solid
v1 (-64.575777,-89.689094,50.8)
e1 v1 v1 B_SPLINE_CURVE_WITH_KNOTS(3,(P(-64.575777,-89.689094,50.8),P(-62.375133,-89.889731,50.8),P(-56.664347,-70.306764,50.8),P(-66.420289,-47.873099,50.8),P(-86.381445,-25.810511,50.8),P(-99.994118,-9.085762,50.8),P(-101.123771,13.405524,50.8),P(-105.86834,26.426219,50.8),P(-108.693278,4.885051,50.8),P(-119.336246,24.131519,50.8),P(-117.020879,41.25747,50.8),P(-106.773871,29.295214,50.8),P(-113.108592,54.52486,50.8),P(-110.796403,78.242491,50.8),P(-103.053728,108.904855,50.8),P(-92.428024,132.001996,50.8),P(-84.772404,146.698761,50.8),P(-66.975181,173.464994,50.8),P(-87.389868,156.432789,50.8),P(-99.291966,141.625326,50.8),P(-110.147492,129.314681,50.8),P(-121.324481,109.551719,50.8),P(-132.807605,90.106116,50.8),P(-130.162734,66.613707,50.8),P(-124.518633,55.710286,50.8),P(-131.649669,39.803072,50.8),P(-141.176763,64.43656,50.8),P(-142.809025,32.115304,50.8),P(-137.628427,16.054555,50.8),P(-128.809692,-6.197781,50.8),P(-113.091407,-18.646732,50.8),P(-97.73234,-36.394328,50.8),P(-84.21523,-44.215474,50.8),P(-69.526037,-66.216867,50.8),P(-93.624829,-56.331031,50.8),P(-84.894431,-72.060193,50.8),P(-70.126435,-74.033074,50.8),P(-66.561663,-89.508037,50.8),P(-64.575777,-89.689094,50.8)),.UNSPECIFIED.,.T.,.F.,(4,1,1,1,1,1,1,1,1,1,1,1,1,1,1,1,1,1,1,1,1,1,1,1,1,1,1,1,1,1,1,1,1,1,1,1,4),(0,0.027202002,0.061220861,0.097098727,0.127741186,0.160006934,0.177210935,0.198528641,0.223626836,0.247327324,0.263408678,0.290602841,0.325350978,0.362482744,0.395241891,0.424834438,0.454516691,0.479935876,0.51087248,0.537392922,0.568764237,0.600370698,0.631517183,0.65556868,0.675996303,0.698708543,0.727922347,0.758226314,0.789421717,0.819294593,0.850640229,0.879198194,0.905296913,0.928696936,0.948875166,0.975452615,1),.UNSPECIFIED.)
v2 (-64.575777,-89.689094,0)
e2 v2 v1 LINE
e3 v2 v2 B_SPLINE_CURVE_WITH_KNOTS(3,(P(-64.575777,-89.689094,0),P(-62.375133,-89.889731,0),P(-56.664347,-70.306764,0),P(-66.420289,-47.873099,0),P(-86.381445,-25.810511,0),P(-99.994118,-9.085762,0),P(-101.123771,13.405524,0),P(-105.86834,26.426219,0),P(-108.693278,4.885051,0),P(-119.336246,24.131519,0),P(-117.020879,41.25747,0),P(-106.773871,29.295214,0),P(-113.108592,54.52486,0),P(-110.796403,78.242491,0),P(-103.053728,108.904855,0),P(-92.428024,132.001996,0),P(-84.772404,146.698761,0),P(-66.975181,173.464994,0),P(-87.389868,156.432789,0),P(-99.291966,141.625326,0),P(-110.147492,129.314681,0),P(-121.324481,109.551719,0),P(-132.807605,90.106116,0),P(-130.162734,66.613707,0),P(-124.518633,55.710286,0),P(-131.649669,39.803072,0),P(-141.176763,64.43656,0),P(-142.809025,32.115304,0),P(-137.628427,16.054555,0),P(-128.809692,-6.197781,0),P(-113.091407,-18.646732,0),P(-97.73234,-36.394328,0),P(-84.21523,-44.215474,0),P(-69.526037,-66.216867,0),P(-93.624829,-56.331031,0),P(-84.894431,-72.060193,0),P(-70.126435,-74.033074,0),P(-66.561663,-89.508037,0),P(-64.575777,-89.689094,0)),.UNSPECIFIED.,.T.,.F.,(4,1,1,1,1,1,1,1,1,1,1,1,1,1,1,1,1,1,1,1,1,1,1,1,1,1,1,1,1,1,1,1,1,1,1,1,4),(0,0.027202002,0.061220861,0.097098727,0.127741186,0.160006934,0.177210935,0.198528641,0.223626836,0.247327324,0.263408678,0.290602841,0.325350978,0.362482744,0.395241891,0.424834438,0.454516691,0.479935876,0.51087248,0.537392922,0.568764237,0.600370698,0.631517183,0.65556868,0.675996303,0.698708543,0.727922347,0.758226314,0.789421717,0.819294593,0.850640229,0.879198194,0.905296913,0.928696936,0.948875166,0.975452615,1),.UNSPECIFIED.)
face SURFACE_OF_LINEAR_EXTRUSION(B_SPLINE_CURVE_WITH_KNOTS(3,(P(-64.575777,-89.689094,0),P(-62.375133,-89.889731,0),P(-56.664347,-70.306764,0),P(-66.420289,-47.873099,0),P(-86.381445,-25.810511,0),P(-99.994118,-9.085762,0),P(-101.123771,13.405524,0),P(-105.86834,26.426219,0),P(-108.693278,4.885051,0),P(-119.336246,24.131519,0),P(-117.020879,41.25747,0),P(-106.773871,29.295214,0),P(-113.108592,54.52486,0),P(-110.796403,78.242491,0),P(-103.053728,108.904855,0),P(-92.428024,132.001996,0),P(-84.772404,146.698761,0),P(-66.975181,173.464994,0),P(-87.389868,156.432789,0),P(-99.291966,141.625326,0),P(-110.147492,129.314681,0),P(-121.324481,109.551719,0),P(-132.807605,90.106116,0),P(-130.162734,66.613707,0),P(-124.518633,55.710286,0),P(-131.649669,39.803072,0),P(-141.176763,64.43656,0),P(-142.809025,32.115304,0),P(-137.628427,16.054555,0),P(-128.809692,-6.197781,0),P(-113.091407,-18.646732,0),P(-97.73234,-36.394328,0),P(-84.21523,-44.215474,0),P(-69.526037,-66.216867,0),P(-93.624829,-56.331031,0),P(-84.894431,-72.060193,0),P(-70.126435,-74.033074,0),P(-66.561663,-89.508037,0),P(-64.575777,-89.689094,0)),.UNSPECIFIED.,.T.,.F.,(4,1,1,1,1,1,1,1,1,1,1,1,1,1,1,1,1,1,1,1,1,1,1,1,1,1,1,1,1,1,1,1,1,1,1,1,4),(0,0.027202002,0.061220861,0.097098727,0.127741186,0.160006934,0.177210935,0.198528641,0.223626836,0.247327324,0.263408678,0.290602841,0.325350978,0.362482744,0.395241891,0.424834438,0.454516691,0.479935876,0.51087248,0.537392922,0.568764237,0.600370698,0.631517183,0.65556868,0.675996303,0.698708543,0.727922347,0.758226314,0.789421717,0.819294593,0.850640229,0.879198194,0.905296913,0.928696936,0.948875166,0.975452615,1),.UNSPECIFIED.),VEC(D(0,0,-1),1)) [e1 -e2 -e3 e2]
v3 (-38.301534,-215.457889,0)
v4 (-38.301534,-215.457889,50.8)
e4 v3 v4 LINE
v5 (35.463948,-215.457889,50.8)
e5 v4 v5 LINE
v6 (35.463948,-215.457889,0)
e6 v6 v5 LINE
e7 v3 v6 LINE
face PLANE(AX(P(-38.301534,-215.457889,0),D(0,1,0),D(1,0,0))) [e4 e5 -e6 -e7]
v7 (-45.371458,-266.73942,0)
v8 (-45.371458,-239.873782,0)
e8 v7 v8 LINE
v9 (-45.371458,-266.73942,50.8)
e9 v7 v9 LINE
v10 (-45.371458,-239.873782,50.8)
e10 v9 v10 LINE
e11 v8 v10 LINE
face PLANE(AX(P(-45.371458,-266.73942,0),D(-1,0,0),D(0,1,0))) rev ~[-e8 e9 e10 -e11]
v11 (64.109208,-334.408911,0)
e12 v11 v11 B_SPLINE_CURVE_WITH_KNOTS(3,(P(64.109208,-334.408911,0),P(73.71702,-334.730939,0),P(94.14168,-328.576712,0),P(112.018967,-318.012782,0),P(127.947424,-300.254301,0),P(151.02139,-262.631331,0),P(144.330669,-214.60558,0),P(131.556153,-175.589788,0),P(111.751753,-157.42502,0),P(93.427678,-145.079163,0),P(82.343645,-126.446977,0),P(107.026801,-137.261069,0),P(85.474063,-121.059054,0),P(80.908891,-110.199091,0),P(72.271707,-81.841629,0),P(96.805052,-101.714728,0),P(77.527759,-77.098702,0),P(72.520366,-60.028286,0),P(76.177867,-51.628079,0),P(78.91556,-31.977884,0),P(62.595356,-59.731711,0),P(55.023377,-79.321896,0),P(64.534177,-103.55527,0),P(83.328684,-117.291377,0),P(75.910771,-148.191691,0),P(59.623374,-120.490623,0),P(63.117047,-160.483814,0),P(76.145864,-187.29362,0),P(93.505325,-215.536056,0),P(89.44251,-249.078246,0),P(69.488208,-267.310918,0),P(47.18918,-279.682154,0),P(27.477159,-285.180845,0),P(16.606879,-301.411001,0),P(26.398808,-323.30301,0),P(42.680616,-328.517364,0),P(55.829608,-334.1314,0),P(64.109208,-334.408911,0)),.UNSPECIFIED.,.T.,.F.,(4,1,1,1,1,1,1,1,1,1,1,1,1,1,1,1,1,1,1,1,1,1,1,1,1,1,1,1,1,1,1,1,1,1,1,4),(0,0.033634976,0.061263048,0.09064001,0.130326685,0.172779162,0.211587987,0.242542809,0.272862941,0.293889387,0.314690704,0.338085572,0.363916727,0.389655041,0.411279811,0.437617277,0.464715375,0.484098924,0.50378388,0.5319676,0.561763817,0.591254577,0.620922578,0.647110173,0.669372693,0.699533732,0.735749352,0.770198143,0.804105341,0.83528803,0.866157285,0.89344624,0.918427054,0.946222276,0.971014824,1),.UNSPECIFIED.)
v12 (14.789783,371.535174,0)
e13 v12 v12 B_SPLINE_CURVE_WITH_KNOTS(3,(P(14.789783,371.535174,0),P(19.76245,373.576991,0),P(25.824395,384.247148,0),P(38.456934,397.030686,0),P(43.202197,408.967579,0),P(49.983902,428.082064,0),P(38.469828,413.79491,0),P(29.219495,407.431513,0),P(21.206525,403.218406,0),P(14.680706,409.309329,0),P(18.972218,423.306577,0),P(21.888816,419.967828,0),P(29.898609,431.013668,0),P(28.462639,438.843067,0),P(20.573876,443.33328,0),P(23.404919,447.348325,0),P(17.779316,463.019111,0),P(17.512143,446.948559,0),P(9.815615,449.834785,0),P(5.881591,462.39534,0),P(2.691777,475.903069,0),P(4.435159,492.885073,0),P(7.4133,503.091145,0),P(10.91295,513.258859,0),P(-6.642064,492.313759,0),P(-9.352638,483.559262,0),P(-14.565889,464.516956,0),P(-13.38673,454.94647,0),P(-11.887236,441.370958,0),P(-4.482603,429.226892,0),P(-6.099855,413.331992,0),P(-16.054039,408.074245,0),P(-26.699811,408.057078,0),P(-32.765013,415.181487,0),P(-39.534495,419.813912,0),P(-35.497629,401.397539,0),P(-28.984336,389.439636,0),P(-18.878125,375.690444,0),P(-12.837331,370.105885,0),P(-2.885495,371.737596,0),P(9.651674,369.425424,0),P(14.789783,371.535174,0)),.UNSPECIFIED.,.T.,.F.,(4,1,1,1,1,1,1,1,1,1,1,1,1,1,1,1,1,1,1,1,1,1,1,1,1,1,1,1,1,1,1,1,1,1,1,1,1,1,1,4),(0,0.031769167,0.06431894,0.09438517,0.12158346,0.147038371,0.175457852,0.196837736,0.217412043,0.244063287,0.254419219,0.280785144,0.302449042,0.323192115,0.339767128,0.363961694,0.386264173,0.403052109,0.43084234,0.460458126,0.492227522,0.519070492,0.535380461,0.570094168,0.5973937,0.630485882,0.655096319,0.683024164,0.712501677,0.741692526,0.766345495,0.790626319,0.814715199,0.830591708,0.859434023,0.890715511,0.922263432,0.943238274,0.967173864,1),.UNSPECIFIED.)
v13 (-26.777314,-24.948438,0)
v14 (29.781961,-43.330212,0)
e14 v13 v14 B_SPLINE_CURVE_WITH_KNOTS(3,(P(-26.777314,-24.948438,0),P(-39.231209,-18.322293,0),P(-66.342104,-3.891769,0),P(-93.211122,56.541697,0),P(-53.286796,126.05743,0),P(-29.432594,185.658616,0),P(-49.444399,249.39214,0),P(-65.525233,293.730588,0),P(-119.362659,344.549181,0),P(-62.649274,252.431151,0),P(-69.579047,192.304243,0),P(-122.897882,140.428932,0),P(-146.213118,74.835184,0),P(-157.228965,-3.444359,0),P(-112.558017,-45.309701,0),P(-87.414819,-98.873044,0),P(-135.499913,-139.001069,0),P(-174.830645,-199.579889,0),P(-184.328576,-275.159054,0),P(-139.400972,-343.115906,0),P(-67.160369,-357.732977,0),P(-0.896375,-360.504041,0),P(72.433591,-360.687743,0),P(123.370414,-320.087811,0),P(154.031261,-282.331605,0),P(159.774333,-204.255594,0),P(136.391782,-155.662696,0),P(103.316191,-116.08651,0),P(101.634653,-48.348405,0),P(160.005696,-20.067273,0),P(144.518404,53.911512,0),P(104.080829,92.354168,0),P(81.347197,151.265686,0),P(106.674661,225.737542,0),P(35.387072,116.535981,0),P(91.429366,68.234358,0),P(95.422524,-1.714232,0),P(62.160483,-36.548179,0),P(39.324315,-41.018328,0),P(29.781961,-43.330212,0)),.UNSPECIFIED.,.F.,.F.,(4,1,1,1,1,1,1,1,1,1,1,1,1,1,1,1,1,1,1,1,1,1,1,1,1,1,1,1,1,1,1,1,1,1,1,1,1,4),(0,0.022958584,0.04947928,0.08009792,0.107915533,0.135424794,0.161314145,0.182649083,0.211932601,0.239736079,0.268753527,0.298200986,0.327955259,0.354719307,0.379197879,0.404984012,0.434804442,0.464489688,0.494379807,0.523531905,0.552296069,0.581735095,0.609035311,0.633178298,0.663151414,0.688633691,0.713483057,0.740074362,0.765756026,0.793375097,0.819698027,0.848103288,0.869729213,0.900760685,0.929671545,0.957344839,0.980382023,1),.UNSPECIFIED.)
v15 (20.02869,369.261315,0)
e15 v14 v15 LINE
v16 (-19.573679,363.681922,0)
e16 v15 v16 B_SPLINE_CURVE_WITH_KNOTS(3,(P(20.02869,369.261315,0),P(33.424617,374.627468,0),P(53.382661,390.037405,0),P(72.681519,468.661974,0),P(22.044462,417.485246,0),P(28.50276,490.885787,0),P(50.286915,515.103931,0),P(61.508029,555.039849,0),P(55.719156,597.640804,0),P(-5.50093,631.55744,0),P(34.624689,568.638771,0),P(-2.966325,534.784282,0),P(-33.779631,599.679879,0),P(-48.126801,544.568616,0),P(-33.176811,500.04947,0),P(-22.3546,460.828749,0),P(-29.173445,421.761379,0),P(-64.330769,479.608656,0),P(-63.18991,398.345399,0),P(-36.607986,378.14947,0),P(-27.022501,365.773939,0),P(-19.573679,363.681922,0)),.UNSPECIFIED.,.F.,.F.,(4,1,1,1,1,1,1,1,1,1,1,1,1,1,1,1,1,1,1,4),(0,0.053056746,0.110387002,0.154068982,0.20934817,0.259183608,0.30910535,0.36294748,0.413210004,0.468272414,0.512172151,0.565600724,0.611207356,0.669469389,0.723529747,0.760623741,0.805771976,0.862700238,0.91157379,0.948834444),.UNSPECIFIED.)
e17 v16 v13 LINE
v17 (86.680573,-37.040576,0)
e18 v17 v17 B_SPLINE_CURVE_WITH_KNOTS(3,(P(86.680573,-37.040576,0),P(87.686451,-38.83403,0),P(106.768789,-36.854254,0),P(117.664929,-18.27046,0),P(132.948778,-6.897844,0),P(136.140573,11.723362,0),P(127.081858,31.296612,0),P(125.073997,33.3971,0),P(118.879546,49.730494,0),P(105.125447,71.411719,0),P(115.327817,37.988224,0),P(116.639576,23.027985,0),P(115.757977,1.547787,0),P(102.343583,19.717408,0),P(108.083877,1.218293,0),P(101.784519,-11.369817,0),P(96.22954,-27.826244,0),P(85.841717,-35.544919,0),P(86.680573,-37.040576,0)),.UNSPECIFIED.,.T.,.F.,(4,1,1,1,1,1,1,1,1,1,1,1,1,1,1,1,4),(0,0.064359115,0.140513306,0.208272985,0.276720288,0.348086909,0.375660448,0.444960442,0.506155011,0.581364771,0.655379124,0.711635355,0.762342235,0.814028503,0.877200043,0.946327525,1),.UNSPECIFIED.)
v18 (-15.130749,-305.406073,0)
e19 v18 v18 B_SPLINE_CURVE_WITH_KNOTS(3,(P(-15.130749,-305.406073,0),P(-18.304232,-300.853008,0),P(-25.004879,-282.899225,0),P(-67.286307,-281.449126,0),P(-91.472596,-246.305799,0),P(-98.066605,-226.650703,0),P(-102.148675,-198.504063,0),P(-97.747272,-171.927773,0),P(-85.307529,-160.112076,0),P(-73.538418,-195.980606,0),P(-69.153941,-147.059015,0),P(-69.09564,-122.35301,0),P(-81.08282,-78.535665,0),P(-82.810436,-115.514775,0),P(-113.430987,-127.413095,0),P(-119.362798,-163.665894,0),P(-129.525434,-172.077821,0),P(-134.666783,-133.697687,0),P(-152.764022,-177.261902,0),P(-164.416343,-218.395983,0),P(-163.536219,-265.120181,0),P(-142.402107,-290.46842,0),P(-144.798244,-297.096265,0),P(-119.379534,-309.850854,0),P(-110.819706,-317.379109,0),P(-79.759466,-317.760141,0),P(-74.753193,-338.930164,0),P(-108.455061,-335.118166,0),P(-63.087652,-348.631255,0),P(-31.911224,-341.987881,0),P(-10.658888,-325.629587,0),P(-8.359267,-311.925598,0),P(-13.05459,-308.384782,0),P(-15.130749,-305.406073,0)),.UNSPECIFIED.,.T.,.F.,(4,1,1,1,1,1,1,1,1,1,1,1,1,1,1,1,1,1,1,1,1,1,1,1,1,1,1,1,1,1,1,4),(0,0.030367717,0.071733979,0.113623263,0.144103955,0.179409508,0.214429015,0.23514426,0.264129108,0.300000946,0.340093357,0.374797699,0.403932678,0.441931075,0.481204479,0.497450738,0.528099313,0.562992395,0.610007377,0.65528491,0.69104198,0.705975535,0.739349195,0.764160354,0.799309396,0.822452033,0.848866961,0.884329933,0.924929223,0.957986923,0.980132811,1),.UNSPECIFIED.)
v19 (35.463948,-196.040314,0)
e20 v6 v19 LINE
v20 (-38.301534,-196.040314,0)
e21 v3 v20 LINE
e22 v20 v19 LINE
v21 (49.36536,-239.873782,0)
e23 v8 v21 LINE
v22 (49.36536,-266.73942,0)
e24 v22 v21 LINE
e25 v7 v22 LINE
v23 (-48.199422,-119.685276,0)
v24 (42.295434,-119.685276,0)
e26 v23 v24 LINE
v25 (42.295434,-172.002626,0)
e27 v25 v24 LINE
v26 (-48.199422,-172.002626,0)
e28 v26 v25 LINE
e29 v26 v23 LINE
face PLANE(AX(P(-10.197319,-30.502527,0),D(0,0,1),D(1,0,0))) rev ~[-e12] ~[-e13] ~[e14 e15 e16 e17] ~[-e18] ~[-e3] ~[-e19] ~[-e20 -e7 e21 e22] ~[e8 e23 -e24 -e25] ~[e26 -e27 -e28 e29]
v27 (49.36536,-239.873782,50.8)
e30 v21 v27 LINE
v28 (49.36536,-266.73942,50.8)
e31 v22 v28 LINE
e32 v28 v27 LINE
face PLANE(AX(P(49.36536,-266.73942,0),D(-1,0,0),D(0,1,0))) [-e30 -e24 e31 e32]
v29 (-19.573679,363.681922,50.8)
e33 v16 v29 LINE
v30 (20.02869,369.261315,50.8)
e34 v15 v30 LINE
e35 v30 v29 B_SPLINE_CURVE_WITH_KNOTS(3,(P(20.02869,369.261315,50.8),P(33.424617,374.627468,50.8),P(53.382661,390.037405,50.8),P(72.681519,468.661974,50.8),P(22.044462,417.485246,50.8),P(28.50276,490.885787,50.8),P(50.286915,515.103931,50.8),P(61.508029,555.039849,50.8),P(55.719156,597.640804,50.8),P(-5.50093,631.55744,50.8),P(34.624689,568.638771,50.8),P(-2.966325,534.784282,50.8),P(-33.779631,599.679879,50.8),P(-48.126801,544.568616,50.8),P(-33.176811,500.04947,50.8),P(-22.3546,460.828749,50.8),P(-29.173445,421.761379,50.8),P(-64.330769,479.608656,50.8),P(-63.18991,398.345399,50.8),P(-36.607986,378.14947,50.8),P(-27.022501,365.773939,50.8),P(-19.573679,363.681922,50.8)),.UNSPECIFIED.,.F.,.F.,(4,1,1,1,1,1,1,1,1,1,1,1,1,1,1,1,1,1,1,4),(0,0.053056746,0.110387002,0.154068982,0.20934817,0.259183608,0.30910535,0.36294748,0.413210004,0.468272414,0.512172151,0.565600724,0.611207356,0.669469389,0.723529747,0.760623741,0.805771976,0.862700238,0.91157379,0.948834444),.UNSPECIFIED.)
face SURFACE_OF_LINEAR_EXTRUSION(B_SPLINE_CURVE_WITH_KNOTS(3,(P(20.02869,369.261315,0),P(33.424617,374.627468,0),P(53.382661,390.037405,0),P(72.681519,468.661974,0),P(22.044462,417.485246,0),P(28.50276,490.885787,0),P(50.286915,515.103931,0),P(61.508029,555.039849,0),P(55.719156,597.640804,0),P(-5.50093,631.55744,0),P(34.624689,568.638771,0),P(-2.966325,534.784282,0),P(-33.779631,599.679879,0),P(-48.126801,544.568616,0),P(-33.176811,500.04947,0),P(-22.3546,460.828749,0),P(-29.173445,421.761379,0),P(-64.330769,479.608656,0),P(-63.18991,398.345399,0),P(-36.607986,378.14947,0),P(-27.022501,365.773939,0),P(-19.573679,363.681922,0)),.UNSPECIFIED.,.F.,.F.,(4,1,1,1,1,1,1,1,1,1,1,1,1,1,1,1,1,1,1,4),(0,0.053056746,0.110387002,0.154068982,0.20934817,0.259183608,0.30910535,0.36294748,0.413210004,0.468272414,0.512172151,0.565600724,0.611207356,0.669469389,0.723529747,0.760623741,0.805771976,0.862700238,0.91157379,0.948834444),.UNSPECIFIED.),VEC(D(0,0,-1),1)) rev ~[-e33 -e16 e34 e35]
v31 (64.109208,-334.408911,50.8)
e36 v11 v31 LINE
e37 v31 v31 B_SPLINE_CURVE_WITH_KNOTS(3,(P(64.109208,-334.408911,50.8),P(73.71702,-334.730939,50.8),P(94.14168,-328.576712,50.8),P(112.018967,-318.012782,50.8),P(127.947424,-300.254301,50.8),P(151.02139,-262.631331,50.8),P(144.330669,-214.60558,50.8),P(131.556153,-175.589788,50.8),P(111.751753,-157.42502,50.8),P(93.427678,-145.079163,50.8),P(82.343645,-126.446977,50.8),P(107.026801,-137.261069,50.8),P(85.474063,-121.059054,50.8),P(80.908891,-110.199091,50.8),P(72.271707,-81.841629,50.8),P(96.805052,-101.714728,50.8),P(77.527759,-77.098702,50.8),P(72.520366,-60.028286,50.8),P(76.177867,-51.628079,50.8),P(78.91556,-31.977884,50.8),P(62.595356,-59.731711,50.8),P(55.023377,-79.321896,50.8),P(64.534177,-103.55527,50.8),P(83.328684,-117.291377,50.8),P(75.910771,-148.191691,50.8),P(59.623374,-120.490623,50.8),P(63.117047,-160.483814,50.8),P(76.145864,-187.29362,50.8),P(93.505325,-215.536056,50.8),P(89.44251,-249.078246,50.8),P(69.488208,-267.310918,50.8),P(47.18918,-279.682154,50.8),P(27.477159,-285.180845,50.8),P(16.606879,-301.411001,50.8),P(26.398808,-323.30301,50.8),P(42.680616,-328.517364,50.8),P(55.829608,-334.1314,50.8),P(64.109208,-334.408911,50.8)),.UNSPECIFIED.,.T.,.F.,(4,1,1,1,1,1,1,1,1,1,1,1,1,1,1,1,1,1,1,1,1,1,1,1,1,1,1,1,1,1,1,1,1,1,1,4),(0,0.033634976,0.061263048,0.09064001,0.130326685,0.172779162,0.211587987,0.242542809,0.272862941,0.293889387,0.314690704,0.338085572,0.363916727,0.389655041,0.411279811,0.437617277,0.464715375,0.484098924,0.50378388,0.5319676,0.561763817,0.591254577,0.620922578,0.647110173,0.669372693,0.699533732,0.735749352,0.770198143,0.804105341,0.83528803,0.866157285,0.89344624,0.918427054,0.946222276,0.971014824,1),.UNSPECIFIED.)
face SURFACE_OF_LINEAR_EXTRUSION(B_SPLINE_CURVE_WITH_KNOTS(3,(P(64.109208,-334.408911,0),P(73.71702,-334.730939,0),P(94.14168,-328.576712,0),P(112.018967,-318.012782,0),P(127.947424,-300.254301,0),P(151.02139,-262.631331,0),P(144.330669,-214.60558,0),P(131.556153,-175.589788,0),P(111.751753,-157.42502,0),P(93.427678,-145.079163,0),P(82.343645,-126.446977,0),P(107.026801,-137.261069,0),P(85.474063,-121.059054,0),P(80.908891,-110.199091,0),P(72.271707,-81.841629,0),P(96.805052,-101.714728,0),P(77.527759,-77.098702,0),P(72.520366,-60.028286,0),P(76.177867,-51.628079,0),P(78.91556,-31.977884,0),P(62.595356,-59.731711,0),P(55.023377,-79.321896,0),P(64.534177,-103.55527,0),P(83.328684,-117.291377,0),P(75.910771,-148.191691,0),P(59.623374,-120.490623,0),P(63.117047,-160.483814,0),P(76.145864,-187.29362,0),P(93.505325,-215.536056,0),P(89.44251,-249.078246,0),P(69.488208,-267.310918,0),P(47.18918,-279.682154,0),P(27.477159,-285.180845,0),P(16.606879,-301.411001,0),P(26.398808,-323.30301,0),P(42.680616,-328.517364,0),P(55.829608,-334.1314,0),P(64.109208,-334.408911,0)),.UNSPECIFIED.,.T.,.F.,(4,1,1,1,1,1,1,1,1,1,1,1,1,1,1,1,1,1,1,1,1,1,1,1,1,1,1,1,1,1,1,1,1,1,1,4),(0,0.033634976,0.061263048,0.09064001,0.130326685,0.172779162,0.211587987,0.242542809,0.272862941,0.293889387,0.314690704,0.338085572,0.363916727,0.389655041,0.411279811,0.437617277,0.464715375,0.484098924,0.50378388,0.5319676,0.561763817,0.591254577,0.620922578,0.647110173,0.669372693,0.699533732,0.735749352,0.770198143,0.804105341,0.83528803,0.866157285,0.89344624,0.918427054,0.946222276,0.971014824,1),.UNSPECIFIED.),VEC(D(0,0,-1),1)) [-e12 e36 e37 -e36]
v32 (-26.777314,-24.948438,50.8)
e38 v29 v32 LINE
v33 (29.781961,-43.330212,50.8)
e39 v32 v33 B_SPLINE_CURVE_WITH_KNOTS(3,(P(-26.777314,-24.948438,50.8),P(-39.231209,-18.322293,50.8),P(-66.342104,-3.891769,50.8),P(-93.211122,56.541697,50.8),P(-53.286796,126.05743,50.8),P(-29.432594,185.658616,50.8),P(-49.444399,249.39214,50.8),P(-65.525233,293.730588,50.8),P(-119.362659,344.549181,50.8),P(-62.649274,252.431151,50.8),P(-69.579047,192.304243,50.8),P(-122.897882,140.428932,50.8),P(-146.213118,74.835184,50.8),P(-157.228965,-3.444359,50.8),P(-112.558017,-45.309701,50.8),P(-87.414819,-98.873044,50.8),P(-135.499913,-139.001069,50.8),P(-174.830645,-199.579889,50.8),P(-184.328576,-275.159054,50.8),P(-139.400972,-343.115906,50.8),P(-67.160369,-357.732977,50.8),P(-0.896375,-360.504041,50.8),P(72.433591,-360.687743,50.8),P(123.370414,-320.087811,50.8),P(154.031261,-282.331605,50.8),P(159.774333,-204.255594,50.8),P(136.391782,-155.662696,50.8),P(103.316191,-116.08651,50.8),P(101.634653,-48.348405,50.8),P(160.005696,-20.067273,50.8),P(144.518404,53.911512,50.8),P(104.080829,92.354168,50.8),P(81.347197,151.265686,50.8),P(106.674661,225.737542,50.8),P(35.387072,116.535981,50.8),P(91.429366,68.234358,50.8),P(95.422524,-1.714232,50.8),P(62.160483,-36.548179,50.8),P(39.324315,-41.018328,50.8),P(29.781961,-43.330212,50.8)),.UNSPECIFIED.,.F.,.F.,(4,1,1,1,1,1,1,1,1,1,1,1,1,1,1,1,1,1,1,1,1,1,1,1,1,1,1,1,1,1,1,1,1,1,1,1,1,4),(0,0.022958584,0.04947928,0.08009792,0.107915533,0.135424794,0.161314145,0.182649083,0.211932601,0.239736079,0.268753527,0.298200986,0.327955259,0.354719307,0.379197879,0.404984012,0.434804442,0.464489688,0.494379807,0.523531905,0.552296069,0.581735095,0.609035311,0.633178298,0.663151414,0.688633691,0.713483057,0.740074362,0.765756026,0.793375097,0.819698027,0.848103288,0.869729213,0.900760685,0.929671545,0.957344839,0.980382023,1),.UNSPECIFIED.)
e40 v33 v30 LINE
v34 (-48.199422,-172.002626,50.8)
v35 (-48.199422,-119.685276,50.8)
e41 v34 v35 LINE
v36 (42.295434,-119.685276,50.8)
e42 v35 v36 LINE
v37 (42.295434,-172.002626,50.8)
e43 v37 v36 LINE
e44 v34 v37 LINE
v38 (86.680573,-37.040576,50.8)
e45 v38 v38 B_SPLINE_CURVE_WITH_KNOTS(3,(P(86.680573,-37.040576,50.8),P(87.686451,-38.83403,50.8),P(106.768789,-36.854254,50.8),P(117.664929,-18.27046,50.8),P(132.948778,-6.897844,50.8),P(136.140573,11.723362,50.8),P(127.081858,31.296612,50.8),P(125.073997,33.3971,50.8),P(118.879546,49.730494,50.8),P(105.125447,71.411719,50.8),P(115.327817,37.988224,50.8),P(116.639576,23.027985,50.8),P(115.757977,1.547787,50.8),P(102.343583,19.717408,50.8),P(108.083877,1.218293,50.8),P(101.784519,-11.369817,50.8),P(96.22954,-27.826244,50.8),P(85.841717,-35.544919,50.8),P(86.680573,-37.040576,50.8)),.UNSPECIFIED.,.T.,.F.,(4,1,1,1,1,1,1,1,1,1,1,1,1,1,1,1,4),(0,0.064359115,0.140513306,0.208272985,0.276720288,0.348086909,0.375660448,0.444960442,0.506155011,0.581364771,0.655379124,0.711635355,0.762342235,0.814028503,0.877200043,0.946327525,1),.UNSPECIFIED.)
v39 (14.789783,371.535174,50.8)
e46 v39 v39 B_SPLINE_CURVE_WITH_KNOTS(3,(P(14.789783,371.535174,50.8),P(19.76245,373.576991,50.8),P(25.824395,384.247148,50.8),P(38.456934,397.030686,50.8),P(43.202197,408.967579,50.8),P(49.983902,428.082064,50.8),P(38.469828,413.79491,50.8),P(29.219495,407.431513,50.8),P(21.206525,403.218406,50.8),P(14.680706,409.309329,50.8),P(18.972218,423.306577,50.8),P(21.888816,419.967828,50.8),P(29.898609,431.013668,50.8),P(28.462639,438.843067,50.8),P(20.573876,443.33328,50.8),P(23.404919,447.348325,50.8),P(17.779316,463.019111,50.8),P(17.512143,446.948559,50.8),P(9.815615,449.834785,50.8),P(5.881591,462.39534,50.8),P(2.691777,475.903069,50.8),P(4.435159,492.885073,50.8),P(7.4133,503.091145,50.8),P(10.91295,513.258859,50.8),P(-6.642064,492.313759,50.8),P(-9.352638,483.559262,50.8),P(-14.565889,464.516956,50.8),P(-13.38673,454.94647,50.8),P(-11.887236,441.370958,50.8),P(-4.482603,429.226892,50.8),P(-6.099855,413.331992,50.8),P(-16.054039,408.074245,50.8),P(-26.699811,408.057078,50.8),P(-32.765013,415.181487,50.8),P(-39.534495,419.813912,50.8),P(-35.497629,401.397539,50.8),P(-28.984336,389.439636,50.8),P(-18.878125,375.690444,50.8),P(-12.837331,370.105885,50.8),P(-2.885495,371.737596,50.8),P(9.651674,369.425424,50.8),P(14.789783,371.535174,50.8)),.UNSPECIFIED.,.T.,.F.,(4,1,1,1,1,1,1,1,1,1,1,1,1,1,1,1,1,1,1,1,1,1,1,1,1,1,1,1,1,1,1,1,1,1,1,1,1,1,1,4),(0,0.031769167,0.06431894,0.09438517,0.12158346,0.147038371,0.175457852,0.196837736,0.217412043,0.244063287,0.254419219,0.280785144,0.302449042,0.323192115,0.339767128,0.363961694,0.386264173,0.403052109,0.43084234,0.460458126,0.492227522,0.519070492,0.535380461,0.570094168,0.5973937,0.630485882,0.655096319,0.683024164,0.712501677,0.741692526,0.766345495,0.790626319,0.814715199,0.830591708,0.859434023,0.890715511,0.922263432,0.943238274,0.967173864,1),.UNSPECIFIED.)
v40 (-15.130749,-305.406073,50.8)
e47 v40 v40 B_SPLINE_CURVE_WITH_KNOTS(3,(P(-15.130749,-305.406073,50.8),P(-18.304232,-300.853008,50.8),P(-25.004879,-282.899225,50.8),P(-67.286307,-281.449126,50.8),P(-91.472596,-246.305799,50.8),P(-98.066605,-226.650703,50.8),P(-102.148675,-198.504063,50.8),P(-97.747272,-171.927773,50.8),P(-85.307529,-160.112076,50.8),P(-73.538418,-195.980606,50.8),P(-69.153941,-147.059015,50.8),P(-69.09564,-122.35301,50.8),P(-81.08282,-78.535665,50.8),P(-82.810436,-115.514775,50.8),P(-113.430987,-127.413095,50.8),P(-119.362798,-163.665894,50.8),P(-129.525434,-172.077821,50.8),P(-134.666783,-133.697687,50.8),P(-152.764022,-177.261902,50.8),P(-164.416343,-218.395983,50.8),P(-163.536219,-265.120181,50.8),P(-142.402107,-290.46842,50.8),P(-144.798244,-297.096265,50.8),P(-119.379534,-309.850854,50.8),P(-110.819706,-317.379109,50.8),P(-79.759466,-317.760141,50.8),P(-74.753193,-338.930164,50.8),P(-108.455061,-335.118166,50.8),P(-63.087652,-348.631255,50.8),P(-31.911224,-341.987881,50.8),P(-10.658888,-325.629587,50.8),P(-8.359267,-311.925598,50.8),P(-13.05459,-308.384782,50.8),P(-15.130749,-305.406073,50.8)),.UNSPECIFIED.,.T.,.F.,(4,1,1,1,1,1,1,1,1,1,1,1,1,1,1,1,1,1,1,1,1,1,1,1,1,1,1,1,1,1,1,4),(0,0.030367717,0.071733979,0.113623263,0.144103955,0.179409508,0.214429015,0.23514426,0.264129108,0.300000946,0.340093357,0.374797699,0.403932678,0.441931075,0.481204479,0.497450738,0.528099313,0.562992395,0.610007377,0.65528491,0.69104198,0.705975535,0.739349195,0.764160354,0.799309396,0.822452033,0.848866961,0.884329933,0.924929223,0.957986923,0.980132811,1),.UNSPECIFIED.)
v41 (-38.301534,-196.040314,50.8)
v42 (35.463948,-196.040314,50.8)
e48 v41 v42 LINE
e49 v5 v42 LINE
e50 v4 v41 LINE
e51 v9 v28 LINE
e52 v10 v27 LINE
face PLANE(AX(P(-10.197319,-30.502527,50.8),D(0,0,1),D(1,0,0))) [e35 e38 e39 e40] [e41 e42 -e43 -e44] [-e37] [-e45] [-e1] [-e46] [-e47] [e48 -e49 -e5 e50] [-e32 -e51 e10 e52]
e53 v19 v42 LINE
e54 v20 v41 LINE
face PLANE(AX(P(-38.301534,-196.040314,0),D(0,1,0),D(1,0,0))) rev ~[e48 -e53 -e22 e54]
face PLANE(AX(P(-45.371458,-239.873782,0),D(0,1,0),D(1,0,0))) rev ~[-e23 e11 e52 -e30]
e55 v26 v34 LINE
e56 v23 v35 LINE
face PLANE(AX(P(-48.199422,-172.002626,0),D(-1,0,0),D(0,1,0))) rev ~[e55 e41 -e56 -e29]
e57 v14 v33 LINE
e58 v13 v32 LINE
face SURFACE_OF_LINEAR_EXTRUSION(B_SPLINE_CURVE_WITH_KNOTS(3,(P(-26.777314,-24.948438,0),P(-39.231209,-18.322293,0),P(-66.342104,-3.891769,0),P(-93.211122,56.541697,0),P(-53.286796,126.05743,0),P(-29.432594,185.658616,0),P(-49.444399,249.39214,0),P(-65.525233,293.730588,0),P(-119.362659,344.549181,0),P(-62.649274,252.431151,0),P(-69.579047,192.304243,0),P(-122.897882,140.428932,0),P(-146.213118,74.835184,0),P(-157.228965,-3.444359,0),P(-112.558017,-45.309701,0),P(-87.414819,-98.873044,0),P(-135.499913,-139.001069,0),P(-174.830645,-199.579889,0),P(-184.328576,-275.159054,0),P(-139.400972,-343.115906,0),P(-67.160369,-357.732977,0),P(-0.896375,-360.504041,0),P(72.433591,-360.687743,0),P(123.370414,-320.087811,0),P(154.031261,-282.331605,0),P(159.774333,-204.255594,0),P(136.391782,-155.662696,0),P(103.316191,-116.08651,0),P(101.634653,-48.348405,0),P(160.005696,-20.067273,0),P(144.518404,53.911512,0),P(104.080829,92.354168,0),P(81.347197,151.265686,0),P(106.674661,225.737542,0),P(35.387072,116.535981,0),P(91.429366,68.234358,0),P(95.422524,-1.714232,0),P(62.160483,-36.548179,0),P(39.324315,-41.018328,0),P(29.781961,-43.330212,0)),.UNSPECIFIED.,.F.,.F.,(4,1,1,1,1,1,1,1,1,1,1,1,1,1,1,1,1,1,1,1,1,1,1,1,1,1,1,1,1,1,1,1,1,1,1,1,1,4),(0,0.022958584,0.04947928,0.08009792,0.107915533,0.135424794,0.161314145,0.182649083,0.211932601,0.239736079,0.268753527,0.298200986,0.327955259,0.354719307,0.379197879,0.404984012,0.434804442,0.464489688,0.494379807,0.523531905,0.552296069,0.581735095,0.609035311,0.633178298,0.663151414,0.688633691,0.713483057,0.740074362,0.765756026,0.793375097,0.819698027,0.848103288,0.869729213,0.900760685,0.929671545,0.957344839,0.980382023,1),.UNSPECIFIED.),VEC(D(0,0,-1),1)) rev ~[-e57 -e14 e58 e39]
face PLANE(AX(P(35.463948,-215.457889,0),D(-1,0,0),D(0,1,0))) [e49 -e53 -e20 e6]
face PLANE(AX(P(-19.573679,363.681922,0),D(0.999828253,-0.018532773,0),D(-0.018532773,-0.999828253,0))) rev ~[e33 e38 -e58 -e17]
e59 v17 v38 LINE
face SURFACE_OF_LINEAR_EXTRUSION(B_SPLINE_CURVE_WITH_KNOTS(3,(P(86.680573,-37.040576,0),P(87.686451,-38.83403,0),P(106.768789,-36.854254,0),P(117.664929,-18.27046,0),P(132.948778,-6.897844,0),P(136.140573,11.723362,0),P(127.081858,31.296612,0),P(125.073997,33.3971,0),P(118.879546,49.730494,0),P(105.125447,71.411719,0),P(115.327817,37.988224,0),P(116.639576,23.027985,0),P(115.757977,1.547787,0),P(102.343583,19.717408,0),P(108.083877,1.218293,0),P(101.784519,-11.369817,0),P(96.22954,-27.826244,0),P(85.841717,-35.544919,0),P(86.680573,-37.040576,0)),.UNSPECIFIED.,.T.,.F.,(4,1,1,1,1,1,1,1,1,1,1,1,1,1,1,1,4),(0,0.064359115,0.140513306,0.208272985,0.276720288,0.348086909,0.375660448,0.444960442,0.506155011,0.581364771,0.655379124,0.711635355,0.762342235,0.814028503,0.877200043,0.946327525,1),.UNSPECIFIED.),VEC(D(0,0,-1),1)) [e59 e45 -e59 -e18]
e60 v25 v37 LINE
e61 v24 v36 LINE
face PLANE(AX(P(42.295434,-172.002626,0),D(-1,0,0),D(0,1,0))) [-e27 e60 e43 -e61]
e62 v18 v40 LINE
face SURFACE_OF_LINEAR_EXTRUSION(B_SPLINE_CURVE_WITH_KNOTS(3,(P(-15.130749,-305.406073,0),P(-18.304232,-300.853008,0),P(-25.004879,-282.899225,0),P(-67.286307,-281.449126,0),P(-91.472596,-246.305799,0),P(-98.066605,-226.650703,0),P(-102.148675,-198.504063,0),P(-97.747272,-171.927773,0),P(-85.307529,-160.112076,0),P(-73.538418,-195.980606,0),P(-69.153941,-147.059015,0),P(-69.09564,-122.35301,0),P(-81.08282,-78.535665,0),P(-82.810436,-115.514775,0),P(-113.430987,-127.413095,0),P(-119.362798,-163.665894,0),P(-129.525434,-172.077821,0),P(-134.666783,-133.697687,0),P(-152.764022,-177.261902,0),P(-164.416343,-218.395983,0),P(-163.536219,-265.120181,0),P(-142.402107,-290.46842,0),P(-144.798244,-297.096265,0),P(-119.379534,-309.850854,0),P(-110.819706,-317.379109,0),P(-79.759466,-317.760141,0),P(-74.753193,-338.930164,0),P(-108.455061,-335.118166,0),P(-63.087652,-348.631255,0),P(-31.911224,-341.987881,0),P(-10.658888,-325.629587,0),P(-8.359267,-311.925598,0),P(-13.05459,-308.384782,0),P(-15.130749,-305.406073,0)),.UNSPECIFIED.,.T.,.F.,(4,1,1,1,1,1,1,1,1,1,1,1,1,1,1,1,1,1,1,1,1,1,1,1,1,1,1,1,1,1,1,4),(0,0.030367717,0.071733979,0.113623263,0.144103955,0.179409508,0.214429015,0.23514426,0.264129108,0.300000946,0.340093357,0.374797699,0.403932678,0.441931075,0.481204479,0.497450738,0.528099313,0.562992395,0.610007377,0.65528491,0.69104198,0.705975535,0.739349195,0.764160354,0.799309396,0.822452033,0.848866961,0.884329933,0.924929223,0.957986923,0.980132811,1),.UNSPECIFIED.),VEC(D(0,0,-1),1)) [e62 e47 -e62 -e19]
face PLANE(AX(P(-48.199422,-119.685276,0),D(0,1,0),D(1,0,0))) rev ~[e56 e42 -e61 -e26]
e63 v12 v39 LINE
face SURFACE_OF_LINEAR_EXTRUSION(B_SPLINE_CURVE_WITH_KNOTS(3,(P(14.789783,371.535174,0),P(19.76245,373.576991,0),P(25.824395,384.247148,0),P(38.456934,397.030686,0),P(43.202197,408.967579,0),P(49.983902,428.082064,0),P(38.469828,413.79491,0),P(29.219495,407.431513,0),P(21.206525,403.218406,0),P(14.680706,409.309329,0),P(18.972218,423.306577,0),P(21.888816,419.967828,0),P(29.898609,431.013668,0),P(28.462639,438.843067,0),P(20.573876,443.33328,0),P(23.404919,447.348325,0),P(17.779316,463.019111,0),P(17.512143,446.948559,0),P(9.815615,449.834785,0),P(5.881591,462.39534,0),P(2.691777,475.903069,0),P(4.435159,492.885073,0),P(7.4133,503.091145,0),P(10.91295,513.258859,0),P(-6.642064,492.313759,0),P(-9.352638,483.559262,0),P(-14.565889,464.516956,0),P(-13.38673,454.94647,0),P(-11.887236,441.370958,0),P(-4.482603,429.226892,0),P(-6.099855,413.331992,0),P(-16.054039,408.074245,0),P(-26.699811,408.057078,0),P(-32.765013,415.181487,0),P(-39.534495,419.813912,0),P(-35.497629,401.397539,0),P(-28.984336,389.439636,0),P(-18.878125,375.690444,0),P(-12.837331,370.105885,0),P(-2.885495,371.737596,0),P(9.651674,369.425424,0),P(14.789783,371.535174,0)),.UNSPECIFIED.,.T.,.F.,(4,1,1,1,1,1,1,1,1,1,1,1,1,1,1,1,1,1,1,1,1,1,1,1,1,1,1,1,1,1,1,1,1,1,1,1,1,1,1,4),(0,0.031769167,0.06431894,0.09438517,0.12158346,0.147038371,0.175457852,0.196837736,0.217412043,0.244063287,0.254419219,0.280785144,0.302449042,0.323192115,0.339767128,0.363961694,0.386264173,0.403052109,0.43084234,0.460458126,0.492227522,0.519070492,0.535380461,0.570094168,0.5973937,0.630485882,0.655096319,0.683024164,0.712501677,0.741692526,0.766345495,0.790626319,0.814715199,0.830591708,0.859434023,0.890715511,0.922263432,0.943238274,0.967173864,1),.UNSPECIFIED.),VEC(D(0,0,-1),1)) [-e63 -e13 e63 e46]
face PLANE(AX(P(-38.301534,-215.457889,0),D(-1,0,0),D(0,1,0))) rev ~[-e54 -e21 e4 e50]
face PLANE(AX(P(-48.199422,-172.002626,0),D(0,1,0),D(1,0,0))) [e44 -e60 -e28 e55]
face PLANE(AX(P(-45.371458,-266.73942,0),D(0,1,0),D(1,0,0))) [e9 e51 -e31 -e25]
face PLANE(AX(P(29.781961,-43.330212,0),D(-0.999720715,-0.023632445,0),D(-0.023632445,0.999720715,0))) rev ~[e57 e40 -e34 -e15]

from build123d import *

# Parameters (mm, degrees)
F0_W     = 94.7368181817
F0_H     = 26.8656377017
F0_W_2   = 73.7654825033
F0_H_2   = 19.4175753778
F0_W_3   = 90.4948551659
F0_H_3   = 52.3173499345
F1_DEPTH = 50.8


with BuildPart() as f1:
    # F0 (on Top) → F1 (new body)
    with BuildSketch(Plane.XY):
        with BuildLine():
            Line((-26.777314246, -102.7174559399), (-26.777314246, -24.9484376807))
            add(Edge.make_bspline(
                [(-26.777314246, -24.9484376807), (-39.2312087682, -18.3222932809), (-66.3421038811, -3.8917691565), (-93.2111224428, 56.541696922), (-53.2867958123, 126.0574303904), (-29.4325944066, 185.6586160234), (-49.4443986063, 249.3921397477), (-65.5252329262, 293.730587512), (-119.362659462, 344.5491811008), (-62.6492740466, 252.4311506789), (-69.5790474784, 192.3042427025), (-122.8978816271, 140.4289316735), (-146.2131183139, 74.8351837618), (-157.2289647293, -3.4443591981), (-112.558016626, -45.3097005874), (-87.414818505, -98.8730440568), (-135.4999134873, -139.0010691811), (-174.8306453568, -199.5798889361), (-184.3285757713, -275.159054464), (-139.4009724375, -343.1159063066), (-67.1603687192, -357.7329771624), (-0.8963752119, -360.5040406834), (72.4335905606, -360.687743194), (123.3704142941, -320.087810804), (154.0312608897, -282.3316046681), (159.77433301, -204.2555943933), (136.3917821151, -155.6626959683), (103.3161909454, -116.0865102319), (101.6346534567, -48.3484051386), (160.0056956207, -20.0672731934), (144.5184043425, 53.9115123978), (104.0808293724, 92.354168094), (81.3471966308, 151.2656857783), (106.6746609476, 225.7375418331), (35.3870715235, 116.5359806728), (91.4293660799, 68.234357501), (95.4225237962, -1.7142324276), (62.1604827287, -36.5481789616), (39.3243153174, -41.0183277921), (29.7819609504, -43.330212238)],
                knots=[0, 0, 0, 0, 0.0229585842, 0.0494792802, 0.0800979203, 0.1079155331, 0.1354247943, 0.1613141449, 0.1826490829, 0.2119326009, 0.2397360785, 0.2687535267, 0.2982009865, 0.3279552592, 0.3547193068, 0.3791978786, 0.4049840116, 0.4348044416, 0.4644896876, 0.4943798073, 0.5235319054, 0.552296069, 0.5817350946, 0.6090353113, 0.6331782983, 0.6631514142, 0.6886336906, 0.7134830575, 0.7400743616, 0.7657560257, 0.7933750972, 0.8196980275, 0.8481032881, 0.8697292126, 0.9007606855, 0.9296715453, 0.9573448386, 0.9803820232, 1, 1, 1, 1], degree=3))
            Line((29.7819609504, -43.330212238), (29.7819609504, -102.7174559399))
            Line((29.7819609504, -102.7174559399), (-26.777314246, -102.7174559399))
        make_face()
        with BuildLine():
            add(Edge.make_bspline(
                [(-15.1307486045, -305.4060729293), (-18.3042318475, -300.8530080079), (-25.0048790468, -282.8992251354), (-67.2863073174, -281.4491261402), (-91.4725964814, -246.3057993484), (-98.0666054984, -226.6507034961), (-102.1486745324, -198.504063124), (-97.7472723552, -171.9277726408), (-85.3075294306, -160.1120760401), (-73.5384183589, -195.9806056953), (-69.1539407652, -147.0590153613), (-69.0956395225, -122.353010453), (-81.0828203859, -78.5356652638), (-82.8104361679, -115.5147749363), (-113.430987203, -127.413094798), (-119.3627980093, -163.6658936643), (-129.5254335658, -172.0778206375), (-134.6667829214, -133.6976871196), (-152.7640216102, -177.2619016491), (-164.4163427386, -218.3959833726), (-163.5362186125, -265.1201806374), (-142.4021068102, -290.4684201278), (-144.7982436586, -297.0962648623), (-119.3795342135, -309.8508541645), (-110.8197056083, -317.379108981), (-79.7594657771, -317.7601405115), (-74.7531928539, -338.9301642842), (-108.4550614544, -335.1181663671), (-63.0876516254, -348.6312553047), (-31.9112242636, -341.9878811549), (-10.6588882991, -325.6295866703), (-8.3592667288, -311.9255984226), (-13.0545901414, -308.3847822987), (-15.1307486045, -305.4060729293)],
                knots=[0, 0, 0, 0, 0.0303677172, 0.0717339787, 0.1136232633, 0.144103955, 0.1794095084, 0.2144290149, 0.2351442601, 0.264129108, 0.3000009463, 0.340093357, 0.3747976989, 0.4039326785, 0.4419310747, 0.4812044789, 0.4974507382, 0.5280993132, 0.562992395, 0.6100073772, 0.6552849103, 0.6910419801, 0.7059755348, 0.7393491946, 0.764160354, 0.7993093963, 0.822452033, 0.8488669615, 0.8843299335, 0.9249292226, 0.9579869232, 0.9801328105, 1, 1, 1, 1], degree=3))
        make_face(mode=Mode.SUBTRACT)
        with BuildLine():
            add(Edge.make_bspline(
                [(-64.5757773193, -89.68909416), (-62.3751326617, -89.8897313335), (-56.6643469328, -70.30676405), (-66.4202894461, -47.8730991614), (-86.3814452561, -25.8105109504), (-99.9941182653, -9.085762161), (-101.1237710936, 13.4055238447), (-105.8683399444, 26.4262189241), (-108.6932784597, 4.8850513303), (-119.3362455986, 24.1315192094), (-117.0208787658, 41.2574697004), (-106.7738712415, 29.295213804), (-113.108592247, 54.5248600714), (-110.7964029184, 78.2424906655), (-103.0537280839, 108.9048547484), (-92.4280242344, 132.0019958819), (-84.7724040267, 146.6987608911), (-66.9751807473, 173.4649935535), (-87.3898675677, 156.4327894291), (-99.2919664765, 141.6253255718), (-110.147491878, 129.3146807467), (-121.3244814744, 109.5517188568), (-132.8076045881, 90.1061158679), (-130.1627342501, 66.6137070125), (-124.5186333202, 55.7102864337), (-131.6496692592, 39.8030716324), (-141.1767630022, 64.4365601762), (-142.8090249757, 32.1153039765), (-137.628426765, 16.0545550683), (-128.8096921183, -6.1977806695), (-113.091406722, -18.6467319282), (-97.7323404683, -36.394328225), (-84.2152302889, -44.2154741045), (-69.5260367468, -66.2168674613), (-93.6248290695, -56.3310312886), (-84.8944311357, -72.0601926028), (-70.1264348204, -74.0330744966), (-66.5616631789, -89.5080369755), (-64.5757773193, -89.68909416)],
                knots=[0, 0, 0, 0, 0.0272020021, 0.0612208612, 0.0970987274, 0.1277411858, 0.1600069336, 0.177210935, 0.1985286412, 0.2236268362, 0.2473273242, 0.2634086778, 0.2906028414, 0.3253509775, 0.3624827443, 0.3952418913, 0.4248344384, 0.4545166912, 0.479935876, 0.5108724797, 0.5373929218, 0.5687642371, 0.6003706981, 0.6315171834, 0.6555686796, 0.6759963033, 0.698708543, 0.7279223466, 0.758226314, 0.7894217174, 0.8192945931, 0.8506402291, 0.8791981939, 0.9052969132, 0.9286969361, 0.9488751656, 0.9754526152, 1, 1, 1, 1], degree=3))
        make_face(mode=Mode.SUBTRACT)
        with Locations((1.9969510081, -253.3066006764)):
            Rectangle(F0_W, F0_H, mode=Mode.SUBTRACT)
        with Locations((-1.4187931074, -205.7491017036)):
            Rectangle(F0_W_2, F0_H_2, mode=Mode.SUBTRACT)
        with Locations((-2.9519939519, -145.8439510766)):
            Rectangle(F0_W_3, F0_H_3, mode=Mode.SUBTRACT)
        with BuildLine():
            add(Edge.make_bspline(
                [(64.1092075811, -334.4089107162), (73.7170202385, -334.7309394647), (94.1416803938, -328.5767122938), (112.0189665986, -318.0127819484), (127.9474242496, -300.2543009656), (151.0213898979, -262.6313307526), (144.3306692826, -214.6055802094), (131.556153482, -175.5897876646), (111.7517534583, -157.4250196201), (93.4276782196, -145.0791631366), (82.3436450638, -126.4469766808), (107.0268010721, -137.2610691228), (85.4740629162, -121.0590541519), (80.9088910547, -110.1990913504), (72.2717073411, -81.8416286391), (96.8050524305, -101.7147279243), (77.5277588966, -77.0987019087), (72.5203658106, -60.0282861143), (76.1778671416, -51.6280789626), (78.9155603529, -31.9778844912), (62.595356284, -59.7317108256), (55.0233769719, -79.3218962588), (64.5341767548, -103.5552695975), (83.3286841217, -117.2913769001), (75.9107714276, -148.1916910274), (59.6233736586, -120.490623102), (63.1170468542, -160.4838137864), (76.1458639837, -187.2936201798), (93.5053245486, -215.5360559293), (89.4425102932, -249.0782462962), (69.4882082149, -267.3109184309), (47.1891795617, -279.682154185), (27.4771588642, -285.1808446838), (16.6068788762, -301.4110010192), (26.3988080495, -323.3030095278), (42.6806160346, -328.5173635951), (55.8296077659, -334.1314001879), (64.1092075811, -334.4089107162)],
                knots=[0, 0, 0, 0, 0.0336349756, 0.0612630477, 0.0906400103, 0.1303266849, 0.1727791618, 0.2115879866, 0.2425428089, 0.2728629412, 0.2938893873, 0.3146907036, 0.3380855724, 0.3639167273, 0.3896550407, 0.4112798106, 0.4376172767, 0.4647153752, 0.4840989235, 0.5037838795, 0.5319676002, 0.561763817, 0.5912545771, 0.6209225783, 0.6471101735, 0.6693726928, 0.6995337324, 0.7357493525, 0.7701981431, 0.8041053411, 0.8352880298, 0.8661572846, 0.8934462404, 0.9184270538, 0.946222276, 0.9710148244, 1, 1, 1, 1], degree=3))
        make_face(mode=Mode.SUBTRACT)
        with BuildLine():
            add(Edge.make_bspline(
                [(86.6805726311, -37.0405755939), (87.6864511959, -38.834030495), (106.768788999, -36.8542543519), (117.6649294291, -18.2704604075), (132.9487782956, -6.8978437285), (136.1405734166, 11.7233618786), (127.0818582411, 31.2966115256), (125.0739968109, 33.3971003354), (118.8795461043, 49.7304939772), (105.1254469422, 71.4117185692), (115.3278168145, 37.9882241993), (116.639575769, 23.0279850788), (115.7579770522, 1.547786905), (102.3435827084, 19.7174078559), (108.0838772936, 1.2182932954), (101.7845185121, -11.3698167705), (96.2295403326, -27.8262443508), (85.8417172097, -35.544918544), (86.6805726311, -37.0405755939)],
                knots=[0, 0, 0, 0, 0.0643591149, 0.1405133063, 0.2082729845, 0.2767202884, 0.3480869086, 0.3756604483, 0.4449604423, 0.5061550113, 0.581364771, 0.6553791242, 0.7116353548, 0.7623422352, 0.8140285026, 0.8772000429, 0.9463275247, 1, 1, 1, 1], degree=3))
        make_face(mode=Mode.SUBTRACT)
        with BuildLine():
            Line((-19.5736786382, 363.6819219978), (-26.777314246, -24.9484376807))
            Line((-26.777314246, -24.9484376807), (-26.777314246, -102.7174559399))
            Line((-26.777314246, -102.7174559399), (29.7819609504, -102.7174559399))
            Line((29.7819609504, -102.7174559399), (29.7819609504, -43.330212238))
            Line((29.7819609504, -43.330212238), (20.0286903399, 369.2613146461))
            add(Edge.make_bspline(
                [(-19.5736786382, 363.6819219978), (-9.3451103161, 360.8092080195), (7.1102569264, 364.0864360276), (20.0286903399, 369.2613146461)],
                knots=[0.9488344444, 0.9488344444, 0.9488344444, 0.9488344444, 1, 1, 1, 1], degree=3))
        make_face()
        with BuildLine():
            add(Edge.make_bspline(
                [(20.0286903399, 369.2613146461), (33.4246170828, 374.6274680069), (53.3826611732, 390.0374048865), (72.681519291, 468.661973874), (22.0444616864, 417.4852458449), (28.5027597668, 490.8857873315), (50.2869151623, 515.1039310993), (61.5080294958, 555.0398491005), (55.7191557863, 597.6408044648), (-5.5009300069, 631.5574395405), (34.6246892281, 568.6387706778), (-2.9663253113, 534.7842820554), (-33.779630532, 599.6798790435), (-48.1268006331, 544.5686162631), (-33.1768111258, 500.0494700726), (-22.3545995055, 460.8287494891), (-29.1734454587, 421.761378719), (-64.330768869, 479.6086557618), (-63.1899095814, 398.3453989718), (-36.6079862257, 378.1494703609), (-27.0225012563, 365.7739388063), (-19.5736786382, 363.6819219978)],
                knots=[0, 0, 0, 0, 0.0530567456, 0.1103870018, 0.1540689821, 0.2093481698, 0.2591836084, 0.3091053504, 0.3629474799, 0.4132100044, 0.4682724144, 0.5121721508, 0.5656007241, 0.6112073557, 0.6694693888, 0.7235297472, 0.7606237414, 0.8057719757, 0.8627002382, 0.9115737901, 0.9488344444, 0.9488344444, 0.9488344444, 0.9488344444], degree=3))
            add(Edge.make_bspline(
                [(-19.5736786382, 363.6819219978), (-9.3451103161, 360.8092080195), (7.1102569264, 364.0864360276), (20.0286903399, 369.2613146461)],
                knots=[0.9488344444, 0.9488344444, 0.9488344444, 0.9488344444, 1, 1, 1, 1], degree=3))
        make_face()
        with BuildLine():
            add(Edge.make_bspline(
                [(14.7897831994, 371.5351735792), (19.7624501948, 373.5769912737), (25.8243951167, 384.247148372), (38.4569344113, 397.0306862735), (43.202197494, 408.9675792744), (49.9839015998, 428.0820637672), (38.469828403, 413.794910161), (29.2194946466, 407.4315133534), (21.2065254217, 403.2184063999), (14.6807061136, 409.3093294678), (18.9722177061, 423.3065770863), (21.8888161621, 419.967827696), (29.8986087027, 431.0136679714), (28.4626391094, 438.8430667203), (20.5738758747, 443.3332801108), (23.4049194042, 447.3483253687), (17.7793164593, 463.0191113905), (17.5121430399, 446.9485593216), (9.8156146261, 449.834784774), (5.881590882, 462.3953401807), (2.6917766789, 475.9030685926), (4.435158875, 492.885072873), (7.4133004061, 503.0911449636), (10.9129501928, 513.2588592398), (-6.6420641908, 492.313758639), (-9.3526383639, 483.5592622408), (-14.5658889383, 464.5169556004), (-13.3867298957, 454.9464699322), (-11.887235746, 441.3709578289), (-4.4826029946, 429.2268922449), (-6.0998553296, 413.3319920103), (-16.0540387126, 408.0742447118), (-26.6998109564, 408.057077859), (-32.765013489, 415.1814869394), (-39.5344945316, 419.8139122571), (-35.4976289828, 401.3975387845), (-28.9843357244, 389.439635793), (-18.8781247951, 375.6904437412), (-12.8373307939, 370.1058847812), (-2.8854948289, 371.7375959696), (9.6516741682, 369.4254240331), (14.7897831994, 371.5351735792)],
                knots=[0, 0, 0, 0, 0.0317691669, 0.0643189403, 0.0943851697, 0.1215834603, 0.1470383711, 0.1754578515, 0.1968377358, 0.2174120431, 0.244063287, 0.2544192188, 0.280785144, 0.3024490417, 0.3231921147, 0.339767128, 0.3639616936, 0.3862641728, 0.4030521088, 0.4308423405, 0.4604581256, 0.4922275218, 0.5190704922, 0.5353804611, 0.5700941678, 0.5973936999, 0.6304858823, 0.6550963188, 0.6830241644, 0.7125016771, 0.7416925265, 0.7663454952, 0.7906263195, 0.8147151992, 0.8305917083, 0.8594340227, 0.8907155111, 0.9222634324, 0.9432382738, 0.9671738639, 1, 1, 1, 1], degree=3))
        make_face(mode=Mode.SUBTRACT)
    extrude(amount=F1_DEPTH)


solid = f1.part
